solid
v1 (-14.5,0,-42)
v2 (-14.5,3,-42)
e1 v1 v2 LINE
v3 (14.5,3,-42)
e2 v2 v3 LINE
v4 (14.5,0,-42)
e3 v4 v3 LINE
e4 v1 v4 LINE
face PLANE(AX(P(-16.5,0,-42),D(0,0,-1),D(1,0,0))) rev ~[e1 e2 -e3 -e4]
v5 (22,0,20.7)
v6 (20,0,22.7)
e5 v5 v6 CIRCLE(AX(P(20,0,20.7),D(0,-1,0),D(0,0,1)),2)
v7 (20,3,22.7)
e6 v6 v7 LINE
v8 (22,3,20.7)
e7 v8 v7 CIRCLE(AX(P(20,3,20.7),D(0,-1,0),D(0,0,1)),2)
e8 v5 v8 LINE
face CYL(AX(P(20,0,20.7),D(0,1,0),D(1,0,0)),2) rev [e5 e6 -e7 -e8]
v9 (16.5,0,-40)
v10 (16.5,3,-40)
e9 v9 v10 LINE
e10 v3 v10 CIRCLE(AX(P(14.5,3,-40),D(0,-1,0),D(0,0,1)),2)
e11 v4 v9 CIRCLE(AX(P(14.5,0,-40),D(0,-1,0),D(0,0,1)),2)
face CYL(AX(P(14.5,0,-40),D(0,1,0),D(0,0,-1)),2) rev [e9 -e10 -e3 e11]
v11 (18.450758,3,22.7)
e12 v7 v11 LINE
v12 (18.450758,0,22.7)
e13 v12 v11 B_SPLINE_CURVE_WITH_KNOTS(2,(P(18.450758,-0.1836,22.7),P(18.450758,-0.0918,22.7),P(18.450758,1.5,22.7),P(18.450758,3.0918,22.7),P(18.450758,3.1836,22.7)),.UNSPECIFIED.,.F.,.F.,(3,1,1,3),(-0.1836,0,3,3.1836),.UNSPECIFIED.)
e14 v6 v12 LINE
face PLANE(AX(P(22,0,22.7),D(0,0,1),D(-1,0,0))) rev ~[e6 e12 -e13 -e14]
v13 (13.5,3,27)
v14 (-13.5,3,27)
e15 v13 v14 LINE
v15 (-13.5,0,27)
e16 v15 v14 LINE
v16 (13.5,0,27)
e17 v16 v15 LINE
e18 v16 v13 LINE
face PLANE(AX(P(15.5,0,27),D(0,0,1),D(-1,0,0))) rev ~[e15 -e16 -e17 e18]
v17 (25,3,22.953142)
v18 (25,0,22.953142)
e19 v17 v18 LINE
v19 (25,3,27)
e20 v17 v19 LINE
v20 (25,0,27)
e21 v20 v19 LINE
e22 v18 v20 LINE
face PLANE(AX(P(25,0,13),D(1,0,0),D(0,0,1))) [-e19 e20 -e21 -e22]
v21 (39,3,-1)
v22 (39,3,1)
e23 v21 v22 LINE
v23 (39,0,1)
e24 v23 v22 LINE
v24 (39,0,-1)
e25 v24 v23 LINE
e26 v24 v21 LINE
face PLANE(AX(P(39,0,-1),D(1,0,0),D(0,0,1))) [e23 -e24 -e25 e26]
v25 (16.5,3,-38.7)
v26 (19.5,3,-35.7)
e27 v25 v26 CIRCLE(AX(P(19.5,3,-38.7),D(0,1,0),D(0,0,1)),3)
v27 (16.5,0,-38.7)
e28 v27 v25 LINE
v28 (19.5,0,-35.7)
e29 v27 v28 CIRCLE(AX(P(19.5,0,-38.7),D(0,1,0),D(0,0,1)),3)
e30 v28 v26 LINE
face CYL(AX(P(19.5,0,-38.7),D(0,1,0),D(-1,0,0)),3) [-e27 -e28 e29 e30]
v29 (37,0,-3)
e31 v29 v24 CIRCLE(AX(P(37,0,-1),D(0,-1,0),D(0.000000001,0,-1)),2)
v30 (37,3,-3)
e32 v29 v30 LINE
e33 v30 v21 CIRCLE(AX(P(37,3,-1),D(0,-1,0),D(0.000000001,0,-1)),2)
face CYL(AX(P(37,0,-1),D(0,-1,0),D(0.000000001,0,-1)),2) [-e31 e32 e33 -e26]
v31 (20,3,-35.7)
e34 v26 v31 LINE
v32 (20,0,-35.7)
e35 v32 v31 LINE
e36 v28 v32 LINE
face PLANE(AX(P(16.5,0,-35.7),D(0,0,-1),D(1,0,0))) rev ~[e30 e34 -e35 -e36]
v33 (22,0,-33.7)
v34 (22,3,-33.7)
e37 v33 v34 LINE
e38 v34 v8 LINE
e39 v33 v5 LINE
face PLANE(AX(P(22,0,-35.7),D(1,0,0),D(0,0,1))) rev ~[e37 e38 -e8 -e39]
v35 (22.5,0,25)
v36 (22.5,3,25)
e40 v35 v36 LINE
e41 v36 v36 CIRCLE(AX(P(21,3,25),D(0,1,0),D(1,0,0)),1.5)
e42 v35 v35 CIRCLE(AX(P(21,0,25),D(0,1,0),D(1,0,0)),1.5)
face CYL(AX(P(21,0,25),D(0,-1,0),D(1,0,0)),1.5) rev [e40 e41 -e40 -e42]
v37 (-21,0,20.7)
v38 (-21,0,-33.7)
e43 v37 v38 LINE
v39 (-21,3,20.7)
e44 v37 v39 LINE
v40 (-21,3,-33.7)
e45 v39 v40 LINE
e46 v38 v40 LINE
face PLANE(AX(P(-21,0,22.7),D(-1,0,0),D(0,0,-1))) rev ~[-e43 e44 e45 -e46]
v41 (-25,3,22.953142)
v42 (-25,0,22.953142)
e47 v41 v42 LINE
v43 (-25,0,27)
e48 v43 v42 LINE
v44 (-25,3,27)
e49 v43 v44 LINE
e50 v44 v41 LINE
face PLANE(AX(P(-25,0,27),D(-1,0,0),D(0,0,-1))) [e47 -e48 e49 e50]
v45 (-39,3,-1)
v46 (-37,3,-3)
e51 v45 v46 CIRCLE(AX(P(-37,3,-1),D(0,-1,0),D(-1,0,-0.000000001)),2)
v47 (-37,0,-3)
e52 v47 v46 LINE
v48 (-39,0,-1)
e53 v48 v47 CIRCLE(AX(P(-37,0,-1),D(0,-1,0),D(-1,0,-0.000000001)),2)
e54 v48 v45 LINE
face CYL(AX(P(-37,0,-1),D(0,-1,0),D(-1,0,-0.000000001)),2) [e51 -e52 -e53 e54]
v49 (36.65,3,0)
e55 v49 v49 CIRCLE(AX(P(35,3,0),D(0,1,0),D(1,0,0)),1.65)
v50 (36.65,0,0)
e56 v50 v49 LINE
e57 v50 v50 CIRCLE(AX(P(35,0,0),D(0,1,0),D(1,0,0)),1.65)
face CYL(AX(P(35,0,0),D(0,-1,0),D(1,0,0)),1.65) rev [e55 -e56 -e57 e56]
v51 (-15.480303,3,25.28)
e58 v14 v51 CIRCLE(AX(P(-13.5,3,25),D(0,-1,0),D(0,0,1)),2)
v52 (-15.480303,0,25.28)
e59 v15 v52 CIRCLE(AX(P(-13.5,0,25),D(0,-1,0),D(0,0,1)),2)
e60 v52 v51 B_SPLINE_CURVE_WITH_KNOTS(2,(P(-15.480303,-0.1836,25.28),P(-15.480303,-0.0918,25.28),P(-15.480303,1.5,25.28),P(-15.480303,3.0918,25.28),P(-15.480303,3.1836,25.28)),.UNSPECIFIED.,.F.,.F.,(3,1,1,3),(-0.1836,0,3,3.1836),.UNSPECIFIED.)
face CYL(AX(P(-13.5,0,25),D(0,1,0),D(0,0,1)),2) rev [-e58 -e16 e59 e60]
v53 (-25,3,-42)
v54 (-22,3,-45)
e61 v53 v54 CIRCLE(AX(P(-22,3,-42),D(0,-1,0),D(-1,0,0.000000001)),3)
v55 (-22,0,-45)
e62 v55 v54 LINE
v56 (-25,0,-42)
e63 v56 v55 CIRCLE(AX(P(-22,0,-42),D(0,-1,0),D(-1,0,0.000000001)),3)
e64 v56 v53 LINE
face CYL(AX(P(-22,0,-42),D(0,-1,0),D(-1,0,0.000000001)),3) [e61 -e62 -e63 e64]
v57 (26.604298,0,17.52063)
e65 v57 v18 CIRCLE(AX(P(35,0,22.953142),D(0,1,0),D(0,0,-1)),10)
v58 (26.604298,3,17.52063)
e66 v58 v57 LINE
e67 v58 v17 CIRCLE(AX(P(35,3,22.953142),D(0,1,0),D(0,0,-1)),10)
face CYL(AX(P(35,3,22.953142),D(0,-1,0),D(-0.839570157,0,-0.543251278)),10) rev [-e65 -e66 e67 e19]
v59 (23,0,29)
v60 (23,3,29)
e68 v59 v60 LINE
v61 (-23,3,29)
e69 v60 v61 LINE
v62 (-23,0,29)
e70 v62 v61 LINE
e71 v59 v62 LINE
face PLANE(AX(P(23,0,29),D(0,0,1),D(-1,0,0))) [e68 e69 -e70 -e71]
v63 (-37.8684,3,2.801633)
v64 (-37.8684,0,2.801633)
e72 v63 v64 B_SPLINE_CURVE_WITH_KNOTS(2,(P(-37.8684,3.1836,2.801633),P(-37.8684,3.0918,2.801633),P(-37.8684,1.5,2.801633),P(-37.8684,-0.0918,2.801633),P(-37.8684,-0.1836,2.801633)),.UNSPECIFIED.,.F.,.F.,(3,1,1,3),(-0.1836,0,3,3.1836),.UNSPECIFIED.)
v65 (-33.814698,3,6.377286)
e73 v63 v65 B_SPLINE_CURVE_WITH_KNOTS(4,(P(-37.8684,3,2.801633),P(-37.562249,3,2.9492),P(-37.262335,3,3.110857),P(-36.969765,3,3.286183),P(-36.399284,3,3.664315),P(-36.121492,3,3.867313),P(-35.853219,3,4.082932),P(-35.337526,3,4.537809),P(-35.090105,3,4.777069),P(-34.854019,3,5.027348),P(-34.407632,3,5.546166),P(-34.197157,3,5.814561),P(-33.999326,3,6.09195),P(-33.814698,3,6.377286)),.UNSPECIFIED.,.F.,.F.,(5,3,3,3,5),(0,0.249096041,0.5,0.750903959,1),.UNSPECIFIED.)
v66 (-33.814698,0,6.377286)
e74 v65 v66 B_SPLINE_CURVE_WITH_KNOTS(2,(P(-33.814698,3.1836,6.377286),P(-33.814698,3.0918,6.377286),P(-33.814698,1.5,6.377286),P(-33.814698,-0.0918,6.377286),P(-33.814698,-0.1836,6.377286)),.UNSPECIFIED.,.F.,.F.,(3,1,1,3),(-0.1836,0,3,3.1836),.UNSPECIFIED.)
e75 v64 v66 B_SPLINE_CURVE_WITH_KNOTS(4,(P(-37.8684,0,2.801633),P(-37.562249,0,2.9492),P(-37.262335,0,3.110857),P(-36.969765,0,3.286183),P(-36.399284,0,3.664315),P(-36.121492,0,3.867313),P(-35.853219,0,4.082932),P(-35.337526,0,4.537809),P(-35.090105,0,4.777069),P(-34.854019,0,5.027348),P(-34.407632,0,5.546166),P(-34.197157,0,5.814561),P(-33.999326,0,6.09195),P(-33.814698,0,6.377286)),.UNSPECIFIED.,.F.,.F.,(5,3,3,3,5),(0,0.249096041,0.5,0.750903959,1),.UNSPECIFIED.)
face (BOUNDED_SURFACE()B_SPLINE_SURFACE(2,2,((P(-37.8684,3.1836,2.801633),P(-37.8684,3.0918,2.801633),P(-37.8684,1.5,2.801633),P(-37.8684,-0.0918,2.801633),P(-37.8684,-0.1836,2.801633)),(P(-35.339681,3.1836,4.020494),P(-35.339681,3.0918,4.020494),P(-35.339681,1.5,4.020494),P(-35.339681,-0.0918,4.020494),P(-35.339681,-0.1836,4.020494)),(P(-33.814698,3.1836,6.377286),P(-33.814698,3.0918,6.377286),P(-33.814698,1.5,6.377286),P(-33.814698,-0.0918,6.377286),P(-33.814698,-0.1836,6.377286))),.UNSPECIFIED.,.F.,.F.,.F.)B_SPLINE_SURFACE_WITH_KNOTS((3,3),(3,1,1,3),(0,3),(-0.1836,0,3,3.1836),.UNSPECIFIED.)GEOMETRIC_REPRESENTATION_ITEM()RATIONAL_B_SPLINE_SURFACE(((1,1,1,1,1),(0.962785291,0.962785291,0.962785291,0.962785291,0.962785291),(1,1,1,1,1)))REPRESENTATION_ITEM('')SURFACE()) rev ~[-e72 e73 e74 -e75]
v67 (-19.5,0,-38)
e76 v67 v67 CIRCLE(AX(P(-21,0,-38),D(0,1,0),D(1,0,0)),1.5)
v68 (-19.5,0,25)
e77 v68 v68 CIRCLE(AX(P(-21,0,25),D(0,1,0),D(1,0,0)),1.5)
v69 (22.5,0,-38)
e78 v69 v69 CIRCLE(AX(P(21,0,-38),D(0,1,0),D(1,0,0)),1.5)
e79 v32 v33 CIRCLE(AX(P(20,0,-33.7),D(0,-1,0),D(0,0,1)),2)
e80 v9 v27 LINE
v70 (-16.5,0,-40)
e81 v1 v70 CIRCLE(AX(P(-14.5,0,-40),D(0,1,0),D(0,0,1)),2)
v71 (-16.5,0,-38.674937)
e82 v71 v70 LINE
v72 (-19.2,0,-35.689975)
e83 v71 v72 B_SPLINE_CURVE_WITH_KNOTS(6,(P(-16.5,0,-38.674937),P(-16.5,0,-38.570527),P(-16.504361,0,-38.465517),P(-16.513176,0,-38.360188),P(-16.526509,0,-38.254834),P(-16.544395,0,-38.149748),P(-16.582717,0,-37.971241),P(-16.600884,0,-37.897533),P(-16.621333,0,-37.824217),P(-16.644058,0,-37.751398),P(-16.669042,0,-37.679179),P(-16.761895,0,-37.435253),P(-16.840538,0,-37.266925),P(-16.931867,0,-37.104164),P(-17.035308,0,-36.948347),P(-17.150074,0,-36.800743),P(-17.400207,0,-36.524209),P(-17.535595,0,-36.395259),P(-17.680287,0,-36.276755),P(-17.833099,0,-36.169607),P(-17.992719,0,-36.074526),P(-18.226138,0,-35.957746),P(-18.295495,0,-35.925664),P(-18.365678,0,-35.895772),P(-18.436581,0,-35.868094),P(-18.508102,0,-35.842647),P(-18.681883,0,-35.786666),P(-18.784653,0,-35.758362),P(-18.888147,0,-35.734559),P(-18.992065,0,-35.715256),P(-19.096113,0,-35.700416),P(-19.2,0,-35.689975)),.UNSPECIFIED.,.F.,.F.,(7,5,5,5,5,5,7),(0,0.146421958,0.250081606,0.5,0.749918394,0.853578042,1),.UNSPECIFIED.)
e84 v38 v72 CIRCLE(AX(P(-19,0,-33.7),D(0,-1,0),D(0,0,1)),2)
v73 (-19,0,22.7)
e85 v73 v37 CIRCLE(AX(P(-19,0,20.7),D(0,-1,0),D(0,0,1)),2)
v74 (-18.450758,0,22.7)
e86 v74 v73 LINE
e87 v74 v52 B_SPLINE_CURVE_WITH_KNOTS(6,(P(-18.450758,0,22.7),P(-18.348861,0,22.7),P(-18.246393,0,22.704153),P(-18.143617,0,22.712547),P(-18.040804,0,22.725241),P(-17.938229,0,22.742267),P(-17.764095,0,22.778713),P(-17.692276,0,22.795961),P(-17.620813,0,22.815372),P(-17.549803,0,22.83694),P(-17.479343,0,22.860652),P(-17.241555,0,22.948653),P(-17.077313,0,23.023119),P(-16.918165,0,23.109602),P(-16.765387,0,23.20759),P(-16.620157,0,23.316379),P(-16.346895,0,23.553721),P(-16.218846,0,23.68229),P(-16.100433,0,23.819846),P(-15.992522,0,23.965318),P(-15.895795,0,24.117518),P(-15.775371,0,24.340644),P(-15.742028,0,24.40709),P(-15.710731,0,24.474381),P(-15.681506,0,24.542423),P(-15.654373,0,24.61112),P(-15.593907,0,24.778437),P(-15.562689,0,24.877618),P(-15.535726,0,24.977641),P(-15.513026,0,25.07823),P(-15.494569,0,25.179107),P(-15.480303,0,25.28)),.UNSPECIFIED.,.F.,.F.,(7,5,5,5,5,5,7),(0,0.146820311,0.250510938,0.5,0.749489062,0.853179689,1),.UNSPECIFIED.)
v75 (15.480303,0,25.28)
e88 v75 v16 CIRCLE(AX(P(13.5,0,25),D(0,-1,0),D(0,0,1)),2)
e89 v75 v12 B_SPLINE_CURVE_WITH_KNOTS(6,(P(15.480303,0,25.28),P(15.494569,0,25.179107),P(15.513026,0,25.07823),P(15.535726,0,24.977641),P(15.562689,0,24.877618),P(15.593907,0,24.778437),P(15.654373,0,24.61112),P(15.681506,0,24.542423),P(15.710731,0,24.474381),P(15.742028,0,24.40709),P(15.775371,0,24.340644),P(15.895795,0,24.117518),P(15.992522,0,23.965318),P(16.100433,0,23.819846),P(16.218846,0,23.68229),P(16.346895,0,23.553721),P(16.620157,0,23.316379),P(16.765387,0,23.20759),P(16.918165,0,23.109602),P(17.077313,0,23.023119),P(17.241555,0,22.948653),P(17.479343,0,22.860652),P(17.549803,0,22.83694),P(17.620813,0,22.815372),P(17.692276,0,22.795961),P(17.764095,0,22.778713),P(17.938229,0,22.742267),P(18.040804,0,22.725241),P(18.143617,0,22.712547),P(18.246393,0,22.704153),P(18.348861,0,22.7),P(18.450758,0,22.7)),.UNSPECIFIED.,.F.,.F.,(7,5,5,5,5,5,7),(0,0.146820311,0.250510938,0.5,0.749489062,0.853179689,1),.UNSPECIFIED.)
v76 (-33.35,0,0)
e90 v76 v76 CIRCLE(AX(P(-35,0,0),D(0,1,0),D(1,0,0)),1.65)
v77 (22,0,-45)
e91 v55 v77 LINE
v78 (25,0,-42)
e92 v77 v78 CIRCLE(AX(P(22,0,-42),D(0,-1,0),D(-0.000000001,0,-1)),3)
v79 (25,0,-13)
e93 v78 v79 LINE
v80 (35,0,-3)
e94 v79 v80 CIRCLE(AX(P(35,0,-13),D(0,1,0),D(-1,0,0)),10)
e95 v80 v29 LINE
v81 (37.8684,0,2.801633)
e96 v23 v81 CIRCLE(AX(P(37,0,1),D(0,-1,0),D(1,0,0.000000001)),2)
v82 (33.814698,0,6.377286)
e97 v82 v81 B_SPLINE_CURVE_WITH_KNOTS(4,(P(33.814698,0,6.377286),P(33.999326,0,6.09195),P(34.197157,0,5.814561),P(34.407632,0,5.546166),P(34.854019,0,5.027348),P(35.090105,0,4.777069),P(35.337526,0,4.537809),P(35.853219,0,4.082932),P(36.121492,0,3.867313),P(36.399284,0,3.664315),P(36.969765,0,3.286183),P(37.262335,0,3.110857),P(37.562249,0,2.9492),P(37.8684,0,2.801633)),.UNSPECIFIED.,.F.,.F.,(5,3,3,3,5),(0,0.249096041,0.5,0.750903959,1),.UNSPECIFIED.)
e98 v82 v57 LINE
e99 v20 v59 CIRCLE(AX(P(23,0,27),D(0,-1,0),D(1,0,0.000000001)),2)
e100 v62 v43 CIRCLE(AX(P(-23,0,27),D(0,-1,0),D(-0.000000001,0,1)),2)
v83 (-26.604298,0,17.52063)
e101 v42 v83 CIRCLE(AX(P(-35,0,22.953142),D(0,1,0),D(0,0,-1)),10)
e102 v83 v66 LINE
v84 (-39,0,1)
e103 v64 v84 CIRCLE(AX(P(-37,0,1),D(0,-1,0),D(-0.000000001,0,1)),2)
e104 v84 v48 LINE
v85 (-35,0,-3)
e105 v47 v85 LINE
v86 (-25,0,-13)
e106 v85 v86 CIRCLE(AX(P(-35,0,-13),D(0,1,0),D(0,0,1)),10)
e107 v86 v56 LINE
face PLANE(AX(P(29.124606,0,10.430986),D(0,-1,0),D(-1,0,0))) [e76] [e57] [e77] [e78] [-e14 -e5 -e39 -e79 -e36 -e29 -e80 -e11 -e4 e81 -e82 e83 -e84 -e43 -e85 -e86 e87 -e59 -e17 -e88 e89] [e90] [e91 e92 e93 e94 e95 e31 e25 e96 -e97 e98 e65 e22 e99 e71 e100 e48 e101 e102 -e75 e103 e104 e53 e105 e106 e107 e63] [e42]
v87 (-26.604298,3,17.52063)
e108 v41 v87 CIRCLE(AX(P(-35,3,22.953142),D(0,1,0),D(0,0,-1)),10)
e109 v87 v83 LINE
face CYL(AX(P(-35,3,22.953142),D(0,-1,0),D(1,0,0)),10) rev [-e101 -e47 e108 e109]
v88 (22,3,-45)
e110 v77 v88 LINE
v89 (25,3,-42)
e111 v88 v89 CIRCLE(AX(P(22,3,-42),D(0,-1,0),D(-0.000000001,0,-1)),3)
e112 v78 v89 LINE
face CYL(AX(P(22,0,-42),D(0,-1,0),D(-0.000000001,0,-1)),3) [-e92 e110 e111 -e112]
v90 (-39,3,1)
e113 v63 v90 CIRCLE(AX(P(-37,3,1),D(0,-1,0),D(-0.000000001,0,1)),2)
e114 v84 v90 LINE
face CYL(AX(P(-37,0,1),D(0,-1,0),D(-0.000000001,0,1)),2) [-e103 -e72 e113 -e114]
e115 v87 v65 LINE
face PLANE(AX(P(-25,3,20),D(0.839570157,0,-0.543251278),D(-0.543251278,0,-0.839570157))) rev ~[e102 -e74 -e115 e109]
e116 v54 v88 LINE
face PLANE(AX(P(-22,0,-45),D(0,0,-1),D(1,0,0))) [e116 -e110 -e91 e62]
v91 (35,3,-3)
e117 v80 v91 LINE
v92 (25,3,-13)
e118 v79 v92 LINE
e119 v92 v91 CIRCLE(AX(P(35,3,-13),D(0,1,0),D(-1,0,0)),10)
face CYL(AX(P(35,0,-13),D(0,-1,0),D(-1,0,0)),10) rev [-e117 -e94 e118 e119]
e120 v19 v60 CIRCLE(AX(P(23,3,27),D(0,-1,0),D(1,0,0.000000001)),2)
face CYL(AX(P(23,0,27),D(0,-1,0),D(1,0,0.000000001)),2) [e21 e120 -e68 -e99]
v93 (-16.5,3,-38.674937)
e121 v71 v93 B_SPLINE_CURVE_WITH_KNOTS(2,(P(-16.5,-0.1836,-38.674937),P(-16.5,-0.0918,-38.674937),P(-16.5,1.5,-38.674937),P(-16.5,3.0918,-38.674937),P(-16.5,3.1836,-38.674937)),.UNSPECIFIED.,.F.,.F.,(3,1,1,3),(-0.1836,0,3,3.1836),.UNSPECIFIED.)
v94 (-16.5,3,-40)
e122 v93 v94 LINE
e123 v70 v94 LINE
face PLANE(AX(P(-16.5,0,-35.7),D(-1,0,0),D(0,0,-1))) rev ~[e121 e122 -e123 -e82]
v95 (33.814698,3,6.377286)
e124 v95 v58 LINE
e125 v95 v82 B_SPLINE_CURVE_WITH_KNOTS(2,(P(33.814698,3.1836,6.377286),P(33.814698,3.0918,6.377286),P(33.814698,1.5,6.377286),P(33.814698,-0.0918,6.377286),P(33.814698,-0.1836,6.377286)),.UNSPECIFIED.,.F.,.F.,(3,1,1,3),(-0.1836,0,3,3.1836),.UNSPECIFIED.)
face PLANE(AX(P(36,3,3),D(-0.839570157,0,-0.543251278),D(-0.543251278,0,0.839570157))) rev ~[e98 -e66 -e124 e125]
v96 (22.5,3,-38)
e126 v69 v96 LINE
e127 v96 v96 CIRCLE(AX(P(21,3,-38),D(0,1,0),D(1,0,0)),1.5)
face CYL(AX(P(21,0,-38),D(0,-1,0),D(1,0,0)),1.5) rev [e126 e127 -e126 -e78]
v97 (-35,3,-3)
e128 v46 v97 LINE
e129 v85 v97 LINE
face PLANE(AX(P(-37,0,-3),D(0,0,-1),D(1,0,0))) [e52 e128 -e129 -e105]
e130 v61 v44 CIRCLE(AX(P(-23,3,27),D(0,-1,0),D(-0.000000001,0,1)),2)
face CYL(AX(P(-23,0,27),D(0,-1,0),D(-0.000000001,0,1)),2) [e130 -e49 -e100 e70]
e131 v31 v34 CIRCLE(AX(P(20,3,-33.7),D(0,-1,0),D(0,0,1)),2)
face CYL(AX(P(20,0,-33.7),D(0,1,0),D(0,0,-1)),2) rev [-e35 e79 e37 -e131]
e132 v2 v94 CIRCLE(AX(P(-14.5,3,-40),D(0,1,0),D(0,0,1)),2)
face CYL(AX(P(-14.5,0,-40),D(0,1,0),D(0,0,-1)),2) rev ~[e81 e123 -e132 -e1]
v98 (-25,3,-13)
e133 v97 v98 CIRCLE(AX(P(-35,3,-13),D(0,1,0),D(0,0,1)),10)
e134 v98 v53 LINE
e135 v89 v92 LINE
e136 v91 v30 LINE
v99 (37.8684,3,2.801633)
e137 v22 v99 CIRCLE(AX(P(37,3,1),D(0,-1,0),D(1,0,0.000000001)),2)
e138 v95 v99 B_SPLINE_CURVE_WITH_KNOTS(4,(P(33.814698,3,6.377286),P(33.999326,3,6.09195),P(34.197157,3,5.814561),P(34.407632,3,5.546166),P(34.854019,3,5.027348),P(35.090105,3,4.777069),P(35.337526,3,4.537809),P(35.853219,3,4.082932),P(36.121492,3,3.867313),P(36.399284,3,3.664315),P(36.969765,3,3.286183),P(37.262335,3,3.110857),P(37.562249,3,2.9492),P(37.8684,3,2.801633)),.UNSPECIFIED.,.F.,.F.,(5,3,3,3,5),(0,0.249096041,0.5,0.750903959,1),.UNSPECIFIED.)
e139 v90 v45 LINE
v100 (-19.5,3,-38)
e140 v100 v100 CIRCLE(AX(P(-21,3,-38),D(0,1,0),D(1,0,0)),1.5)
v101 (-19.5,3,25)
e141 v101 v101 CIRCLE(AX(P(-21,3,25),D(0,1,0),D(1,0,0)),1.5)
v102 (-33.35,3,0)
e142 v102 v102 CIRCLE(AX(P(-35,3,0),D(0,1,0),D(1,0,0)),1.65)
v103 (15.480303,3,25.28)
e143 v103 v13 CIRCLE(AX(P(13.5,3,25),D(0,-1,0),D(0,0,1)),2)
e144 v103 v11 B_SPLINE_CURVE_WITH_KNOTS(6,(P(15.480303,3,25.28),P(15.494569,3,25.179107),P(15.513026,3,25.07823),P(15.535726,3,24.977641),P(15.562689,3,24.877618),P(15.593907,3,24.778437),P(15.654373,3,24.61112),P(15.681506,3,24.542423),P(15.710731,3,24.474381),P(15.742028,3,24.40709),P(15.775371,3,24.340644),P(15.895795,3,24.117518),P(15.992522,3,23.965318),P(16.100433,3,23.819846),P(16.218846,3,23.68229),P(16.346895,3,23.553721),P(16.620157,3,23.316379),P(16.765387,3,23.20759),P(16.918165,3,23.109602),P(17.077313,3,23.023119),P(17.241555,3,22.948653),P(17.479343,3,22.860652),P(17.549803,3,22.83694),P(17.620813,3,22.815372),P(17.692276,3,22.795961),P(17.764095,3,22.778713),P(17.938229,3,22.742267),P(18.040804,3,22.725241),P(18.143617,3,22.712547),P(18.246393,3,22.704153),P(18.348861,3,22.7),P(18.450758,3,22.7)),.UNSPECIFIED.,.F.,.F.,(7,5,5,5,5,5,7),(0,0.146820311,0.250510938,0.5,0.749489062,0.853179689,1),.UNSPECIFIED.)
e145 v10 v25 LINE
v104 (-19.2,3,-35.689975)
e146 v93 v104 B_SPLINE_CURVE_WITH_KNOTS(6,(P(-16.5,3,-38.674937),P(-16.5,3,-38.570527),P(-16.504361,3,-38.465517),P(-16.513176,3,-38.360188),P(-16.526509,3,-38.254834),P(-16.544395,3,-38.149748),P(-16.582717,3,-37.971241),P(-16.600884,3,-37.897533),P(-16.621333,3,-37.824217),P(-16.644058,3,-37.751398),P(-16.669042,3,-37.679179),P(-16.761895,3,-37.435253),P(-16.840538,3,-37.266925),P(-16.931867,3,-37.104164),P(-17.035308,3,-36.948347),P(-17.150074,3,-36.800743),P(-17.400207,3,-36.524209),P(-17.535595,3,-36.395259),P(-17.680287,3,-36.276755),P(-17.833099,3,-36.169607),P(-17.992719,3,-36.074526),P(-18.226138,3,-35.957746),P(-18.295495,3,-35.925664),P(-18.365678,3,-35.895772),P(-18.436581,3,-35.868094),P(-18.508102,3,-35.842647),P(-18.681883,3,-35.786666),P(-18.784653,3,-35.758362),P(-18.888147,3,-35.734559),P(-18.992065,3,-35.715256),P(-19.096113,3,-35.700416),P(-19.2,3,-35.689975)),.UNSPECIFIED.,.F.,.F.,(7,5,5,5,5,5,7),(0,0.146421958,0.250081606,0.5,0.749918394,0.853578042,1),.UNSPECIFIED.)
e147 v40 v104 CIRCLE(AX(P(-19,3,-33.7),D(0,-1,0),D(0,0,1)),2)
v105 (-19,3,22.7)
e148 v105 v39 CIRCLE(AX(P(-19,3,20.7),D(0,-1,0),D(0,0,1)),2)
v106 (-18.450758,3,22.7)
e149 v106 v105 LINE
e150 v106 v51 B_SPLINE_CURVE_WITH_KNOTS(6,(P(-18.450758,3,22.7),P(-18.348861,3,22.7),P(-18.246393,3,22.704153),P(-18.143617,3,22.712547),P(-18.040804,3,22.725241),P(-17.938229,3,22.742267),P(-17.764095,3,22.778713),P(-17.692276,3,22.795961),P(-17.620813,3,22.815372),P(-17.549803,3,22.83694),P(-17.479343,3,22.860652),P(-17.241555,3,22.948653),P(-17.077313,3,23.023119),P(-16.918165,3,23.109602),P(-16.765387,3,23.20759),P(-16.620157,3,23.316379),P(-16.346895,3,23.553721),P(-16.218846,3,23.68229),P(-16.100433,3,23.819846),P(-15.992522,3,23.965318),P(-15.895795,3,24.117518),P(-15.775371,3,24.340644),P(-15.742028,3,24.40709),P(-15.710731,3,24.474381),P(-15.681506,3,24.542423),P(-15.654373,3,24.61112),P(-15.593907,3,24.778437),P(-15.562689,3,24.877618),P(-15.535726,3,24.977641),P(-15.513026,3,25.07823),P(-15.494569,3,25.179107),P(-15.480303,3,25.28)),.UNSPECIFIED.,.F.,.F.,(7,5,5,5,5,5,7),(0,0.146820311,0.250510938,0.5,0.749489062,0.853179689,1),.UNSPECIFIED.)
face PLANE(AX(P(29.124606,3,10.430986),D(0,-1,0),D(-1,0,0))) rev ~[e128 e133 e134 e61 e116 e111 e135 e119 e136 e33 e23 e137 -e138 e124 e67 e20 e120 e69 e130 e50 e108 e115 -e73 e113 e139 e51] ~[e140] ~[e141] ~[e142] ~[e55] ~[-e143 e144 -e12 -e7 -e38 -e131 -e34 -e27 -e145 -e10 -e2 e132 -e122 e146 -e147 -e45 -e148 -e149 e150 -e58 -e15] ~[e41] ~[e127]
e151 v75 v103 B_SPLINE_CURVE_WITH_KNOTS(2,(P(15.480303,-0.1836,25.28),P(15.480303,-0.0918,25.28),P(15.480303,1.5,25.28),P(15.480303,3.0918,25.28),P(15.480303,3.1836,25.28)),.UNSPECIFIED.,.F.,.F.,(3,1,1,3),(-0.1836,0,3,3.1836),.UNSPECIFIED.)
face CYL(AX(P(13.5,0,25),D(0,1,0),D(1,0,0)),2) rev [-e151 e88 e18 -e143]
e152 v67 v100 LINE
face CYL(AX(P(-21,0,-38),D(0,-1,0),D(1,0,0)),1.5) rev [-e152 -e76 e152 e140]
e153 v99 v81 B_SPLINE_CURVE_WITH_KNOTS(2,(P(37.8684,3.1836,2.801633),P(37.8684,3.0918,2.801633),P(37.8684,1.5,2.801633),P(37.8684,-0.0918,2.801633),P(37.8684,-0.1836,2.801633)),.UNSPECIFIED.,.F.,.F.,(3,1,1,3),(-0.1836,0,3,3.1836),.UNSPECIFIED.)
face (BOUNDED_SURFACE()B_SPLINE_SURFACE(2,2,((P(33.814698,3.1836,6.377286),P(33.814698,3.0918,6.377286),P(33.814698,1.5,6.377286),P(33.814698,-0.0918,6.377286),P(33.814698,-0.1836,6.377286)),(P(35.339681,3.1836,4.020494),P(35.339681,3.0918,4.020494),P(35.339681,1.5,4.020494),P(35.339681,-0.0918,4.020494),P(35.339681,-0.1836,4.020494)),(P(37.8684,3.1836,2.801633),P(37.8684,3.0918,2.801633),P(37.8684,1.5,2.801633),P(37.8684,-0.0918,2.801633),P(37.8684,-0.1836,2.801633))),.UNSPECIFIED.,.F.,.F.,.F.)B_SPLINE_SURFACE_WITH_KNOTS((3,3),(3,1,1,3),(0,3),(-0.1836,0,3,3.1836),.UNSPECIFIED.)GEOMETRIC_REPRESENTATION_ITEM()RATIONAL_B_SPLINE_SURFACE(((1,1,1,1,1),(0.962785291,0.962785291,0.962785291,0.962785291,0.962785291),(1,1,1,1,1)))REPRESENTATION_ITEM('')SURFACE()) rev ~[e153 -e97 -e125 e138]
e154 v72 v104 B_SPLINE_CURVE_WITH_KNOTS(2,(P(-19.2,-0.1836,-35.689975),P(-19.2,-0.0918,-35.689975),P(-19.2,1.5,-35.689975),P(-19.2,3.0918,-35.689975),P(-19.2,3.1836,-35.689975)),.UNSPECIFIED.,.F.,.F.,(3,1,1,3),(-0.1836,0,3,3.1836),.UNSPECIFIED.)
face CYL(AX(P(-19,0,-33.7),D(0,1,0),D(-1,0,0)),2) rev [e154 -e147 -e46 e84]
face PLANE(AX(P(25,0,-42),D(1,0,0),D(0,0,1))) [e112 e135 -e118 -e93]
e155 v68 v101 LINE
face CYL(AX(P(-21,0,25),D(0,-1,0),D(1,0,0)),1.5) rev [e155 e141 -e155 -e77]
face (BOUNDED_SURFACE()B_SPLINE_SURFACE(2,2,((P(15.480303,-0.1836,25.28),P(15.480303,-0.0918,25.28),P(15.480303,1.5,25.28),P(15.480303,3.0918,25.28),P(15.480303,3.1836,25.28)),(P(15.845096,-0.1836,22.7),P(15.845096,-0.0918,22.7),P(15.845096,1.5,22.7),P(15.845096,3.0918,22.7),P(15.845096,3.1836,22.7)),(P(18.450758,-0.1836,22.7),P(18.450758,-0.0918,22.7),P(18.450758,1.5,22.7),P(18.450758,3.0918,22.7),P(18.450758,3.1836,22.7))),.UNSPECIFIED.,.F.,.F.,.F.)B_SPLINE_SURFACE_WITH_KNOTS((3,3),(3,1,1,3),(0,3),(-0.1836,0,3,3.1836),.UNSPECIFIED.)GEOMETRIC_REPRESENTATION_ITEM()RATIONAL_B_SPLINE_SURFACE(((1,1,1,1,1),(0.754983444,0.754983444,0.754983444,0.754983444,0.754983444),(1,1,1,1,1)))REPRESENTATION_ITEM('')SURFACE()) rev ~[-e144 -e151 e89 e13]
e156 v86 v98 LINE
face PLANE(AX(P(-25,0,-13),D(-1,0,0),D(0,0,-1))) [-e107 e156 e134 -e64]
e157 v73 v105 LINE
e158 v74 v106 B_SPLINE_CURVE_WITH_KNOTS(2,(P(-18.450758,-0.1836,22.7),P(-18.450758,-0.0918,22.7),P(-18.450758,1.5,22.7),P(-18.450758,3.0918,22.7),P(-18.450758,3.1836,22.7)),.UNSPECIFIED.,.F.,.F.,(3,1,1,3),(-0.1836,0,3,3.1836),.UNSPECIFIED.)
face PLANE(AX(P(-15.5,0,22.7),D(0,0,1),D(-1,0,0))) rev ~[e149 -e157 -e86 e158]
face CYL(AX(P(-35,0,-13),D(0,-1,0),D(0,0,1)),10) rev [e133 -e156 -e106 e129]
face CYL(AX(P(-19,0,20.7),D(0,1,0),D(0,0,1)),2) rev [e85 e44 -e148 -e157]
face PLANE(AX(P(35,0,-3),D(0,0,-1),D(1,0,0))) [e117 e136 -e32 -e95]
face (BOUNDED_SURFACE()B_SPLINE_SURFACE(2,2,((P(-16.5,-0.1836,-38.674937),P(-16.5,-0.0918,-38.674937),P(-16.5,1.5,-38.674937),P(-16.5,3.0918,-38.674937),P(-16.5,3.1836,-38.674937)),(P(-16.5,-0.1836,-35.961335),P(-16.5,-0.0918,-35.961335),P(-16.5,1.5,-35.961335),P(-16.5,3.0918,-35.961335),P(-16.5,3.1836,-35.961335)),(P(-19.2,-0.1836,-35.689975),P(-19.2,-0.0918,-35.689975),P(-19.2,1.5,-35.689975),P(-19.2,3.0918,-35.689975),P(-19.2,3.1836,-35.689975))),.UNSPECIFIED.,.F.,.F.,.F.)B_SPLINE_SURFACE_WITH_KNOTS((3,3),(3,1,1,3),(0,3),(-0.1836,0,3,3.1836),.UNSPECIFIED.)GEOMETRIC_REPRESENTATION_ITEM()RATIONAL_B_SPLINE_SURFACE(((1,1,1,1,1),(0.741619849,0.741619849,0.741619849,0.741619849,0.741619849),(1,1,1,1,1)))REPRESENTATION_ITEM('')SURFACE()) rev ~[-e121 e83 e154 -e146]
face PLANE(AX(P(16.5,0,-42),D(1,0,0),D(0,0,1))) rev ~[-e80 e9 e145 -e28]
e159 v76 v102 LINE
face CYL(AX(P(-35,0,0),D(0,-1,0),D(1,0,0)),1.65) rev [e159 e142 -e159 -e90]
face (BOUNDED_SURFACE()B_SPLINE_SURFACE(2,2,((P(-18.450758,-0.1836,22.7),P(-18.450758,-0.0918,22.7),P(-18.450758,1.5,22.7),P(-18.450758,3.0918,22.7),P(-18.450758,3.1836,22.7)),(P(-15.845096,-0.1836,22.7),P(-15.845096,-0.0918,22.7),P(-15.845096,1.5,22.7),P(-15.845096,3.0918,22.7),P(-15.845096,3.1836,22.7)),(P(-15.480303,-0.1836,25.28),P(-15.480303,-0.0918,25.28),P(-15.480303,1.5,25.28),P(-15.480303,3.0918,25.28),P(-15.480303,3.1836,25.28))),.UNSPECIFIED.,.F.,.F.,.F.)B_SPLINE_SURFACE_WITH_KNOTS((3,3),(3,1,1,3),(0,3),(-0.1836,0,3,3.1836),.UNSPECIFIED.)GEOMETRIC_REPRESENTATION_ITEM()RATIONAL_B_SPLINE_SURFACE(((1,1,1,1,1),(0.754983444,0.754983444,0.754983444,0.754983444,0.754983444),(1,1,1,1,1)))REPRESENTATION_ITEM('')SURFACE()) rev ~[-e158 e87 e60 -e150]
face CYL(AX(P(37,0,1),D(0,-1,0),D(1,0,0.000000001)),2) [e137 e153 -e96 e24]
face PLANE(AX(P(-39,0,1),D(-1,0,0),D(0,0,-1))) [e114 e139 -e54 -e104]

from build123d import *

# Parameters (mm, degrees)
SKETCH_1_R          = 1.65
SKETCH_1_R_2        = 1.5
EXTRUDE_1_DEPTH     = 3
FILLET_1_R          = 2
EXTRUDE_2_DEPTH     = 3
FILLET_2_R          = 10
SKETCH_3_W          = 43
SKETCH_3_H          = 4
EXTRUDE_3_DEPTH     = 3
FILLET_3_R          = 5
SKETCH_4_W          = 43
SKETCH_4_H          = 19.849699933
CUT_EXTRUDE_1_DEPTH = 10
FILLET_4_R          = 3
FILLET_5_R          = 3
FILLET_6_R          = 3
FILLET_7_R          = 3


with BuildPart() as part:
    # 草图1 → 凸台-拉伸1 (new body)
    with BuildSketch(Plane(origin=(0, 0, 0), x_dir=(1, 0, 0), z_dir=(0, 1, 0))):
        with BuildLine():
            Line((-37, 3), (-35, 3))
            ThreePointArc((-35, 3), (-27.928932188, 5.928932188), (-25, 13))
            Line((-25, 13), (-25, 42))
            ThreePointArc((-25, 42), (-24.121320344, 44.121320344), (-22, 45))
            Line((-22, 45), (22, 45))
            ThreePointArc((22, 45), (24.121320344, 44.121320344), (25, 42))
            Line((25, 42), (25, 13))
            ThreePointArc((25, 13), (27.928932188, 5.928932188), (35, 3))
            Line((35, 3), (37, 3))
            ThreePointArc((37, 3), (38.414213562, 2.414213562), (39, 1))
            Line((39, 1), (39, -1))
            ThreePointArc((39, -1), (38.414213562, -2.414213562), (37, -3))
            Line((37, -3), (35, -3))
            ThreePointArc((35, -3), (27.928932188, -5.928932188), (25, -13))
            Line((25, -13), (25, -27))
            ThreePointArc((25, -27), (24.414213562, -28.414213562), (23, -29))
            Line((23, -29), (-0.329591816, -29))
            Line((-0.329591816, -29), (-23, -29))
            ThreePointArc((-23, -29), (-24.414213562, -28.414213562), (-25, -27))
            Line((-25, -27), (-25, -13))
            ThreePointArc((-25, -13), (-27.928932188, -5.928932188), (-35, -3))
            Line((-35, -3), (-37, -3))
            ThreePointArc((-37, -3), (-38.414213562, -2.414213562), (-39, -1))
            Line((-39, -1), (-39, 1))
            ThreePointArc((-39, 1), (-38.414213562, 2.414213562), (-37, 3))
        make_face()
        with Locations((35, 0)):
            Circle(SKETCH_1_R, mode=Mode.SUBTRACT)
        with Locations((-35, 0)):
            Circle(SKETCH_1_R, mode=Mode.SUBTRACT)
        with Locations((21, 38)):
            Circle(SKETCH_1_R_2, mode=Mode.SUBTRACT)
        with Locations((21, -25)):
            Circle(SKETCH_1_R_2, mode=Mode.SUBTRACT)
        with Locations((-21, 38)):
            Circle(SKETCH_1_R_2, mode=Mode.SUBTRACT)
        with Locations((-21, -25)):
            Circle(SKETCH_1_R_2, mode=Mode.SUBTRACT)
        Polygon((-16.5, 42), (16.5, 42), (16.5, 35.7), (22, 35.7), (22, -22.7), (15.5, -22.7), (15.5, -27), (-15.5, -27), (-15.5, -22.7), (-21, -22.7), (-21, 35.7), (-16.5, 35.7), align=None, mode=Mode.SUBTRACT)
    extrude(amount=EXTRUDE_1_DEPTH)

    # 圆角1
    fillet_1_edges = [part.edges().sort_by_distance(p)[0] for p in [
        (-16.5, 1.5, -42),
        (-21, 1.5, -35.7),
        (-21, 1.5, 22.7),
        (-15.5, 1.5, 27),
        (15.5, 1.5, 27),
        (22, 1.5, 22.7),
        (22, 1.5, -35.7),
        (16.5, 1.5, -42),
    ]]
    fillet(fillet_1_edges, radius=FILLET_1_R)

    # 草图2 → 凸台-拉伸2 (add)
    with BuildSketch(Plane(origin=(0, 3, 0), x_dir=(1, 0, 0), z_dir=(0, 1, 0))):
        with BuildLine():
            Line((36, -3), (25, -20))
            Line((25, -20), (25, -13))
            ThreePointArc((25, -13), (27.928932188, -5.928932188), (35, -3))
            Line((35, -3), (36, -3))
        make_face()
        with BuildLine():
            Line((-25, -13), (-25, -20))
            Line((-25, -20), (-36, -3))
            Line((-36, -3), (-35, -3))
            ThreePointArc((-35, -3), (-27.928932188, -5.928932188), (-25, -13))
        make_face()
    extrude(amount=-EXTRUDE_2_DEPTH)

    # 圆角2
    fillet_2_edges = [part.edges().sort_by_distance(p)[0] for p in [
        (36, 1.5, 3),
        (25, 1.5, 20),
        (-36, 1.5, 3),
        (-25, 1.5, 20),
    ]]
    fillet(fillet_2_edges, radius=FILLET_2_R)

    # 草图3 → 凸台-拉伸3 (add)
    with BuildSketch(Plane(origin=(0, 3, 0), x_dir=(1, 0, 0), z_dir=(0, 1, 0))):
        with Locations((0.5, 8.5)):
            Rectangle(SKETCH_3_W, SKETCH_3_H)
    extrude(amount=-EXTRUDE_3_DEPTH)

    # 圆角3
    fillet_3_edges = [part.edges().sort_by_distance(p)[0] for p in [
        (-21, 1.5, -6.5),
        (22, 1.5, -6.5),
        (22, 1.5, -10.5),
        (-21, 1.5, -10.5),
    ]]
    fillet(fillet_3_edges, radius=FILLET_3_R)

    # 草图4 → 切除-拉伸1 (cut)
    with BuildSketch(Plane(origin=(0, 3, 0), x_dir=(1, 0, 0), z_dir=(0, 1, 0))):
        with Locations((0.5, 9.924849967)):
            Rectangle(SKETCH_4_W, SKETCH_4_H)
    extrude(amount=-CUT_EXTRUDE_1_DEPTH, mode=Mode.SUBTRACT)

    # 圆角4
    fillet_4_edges = [part.edges().sort_by_distance(p)[0] for p in [
        (16.5, 1.5, -35.7),
    ]]
    fillet(fillet_4_edges, radius=FILLET_4_R)

    # 圆角5
    fillet_5_edges = [part.edges().sort_by_distance(p)[0] for p in [
        (-16.5, 1.5, -35.7),
    ]]
    fillet(fillet_5_edges, radius=FILLET_5_R)

    # 圆角6
    fillet_6_edges = [part.edges().sort_by_distance(p)[0] for p in [
        (-15.5, 1.5, 22.7),
    ]]
    fillet(fillet_6_edges, radius=FILLET_6_R)

    # 圆角7
    fillet_7_edges = [part.edges().sort_by_distance(p)[0] for p in [
        (15.5, 1.5, 22.7),
    ]]
    fillet(fillet_7_edges, radius=FILLET_7_R)


solid = part.part
